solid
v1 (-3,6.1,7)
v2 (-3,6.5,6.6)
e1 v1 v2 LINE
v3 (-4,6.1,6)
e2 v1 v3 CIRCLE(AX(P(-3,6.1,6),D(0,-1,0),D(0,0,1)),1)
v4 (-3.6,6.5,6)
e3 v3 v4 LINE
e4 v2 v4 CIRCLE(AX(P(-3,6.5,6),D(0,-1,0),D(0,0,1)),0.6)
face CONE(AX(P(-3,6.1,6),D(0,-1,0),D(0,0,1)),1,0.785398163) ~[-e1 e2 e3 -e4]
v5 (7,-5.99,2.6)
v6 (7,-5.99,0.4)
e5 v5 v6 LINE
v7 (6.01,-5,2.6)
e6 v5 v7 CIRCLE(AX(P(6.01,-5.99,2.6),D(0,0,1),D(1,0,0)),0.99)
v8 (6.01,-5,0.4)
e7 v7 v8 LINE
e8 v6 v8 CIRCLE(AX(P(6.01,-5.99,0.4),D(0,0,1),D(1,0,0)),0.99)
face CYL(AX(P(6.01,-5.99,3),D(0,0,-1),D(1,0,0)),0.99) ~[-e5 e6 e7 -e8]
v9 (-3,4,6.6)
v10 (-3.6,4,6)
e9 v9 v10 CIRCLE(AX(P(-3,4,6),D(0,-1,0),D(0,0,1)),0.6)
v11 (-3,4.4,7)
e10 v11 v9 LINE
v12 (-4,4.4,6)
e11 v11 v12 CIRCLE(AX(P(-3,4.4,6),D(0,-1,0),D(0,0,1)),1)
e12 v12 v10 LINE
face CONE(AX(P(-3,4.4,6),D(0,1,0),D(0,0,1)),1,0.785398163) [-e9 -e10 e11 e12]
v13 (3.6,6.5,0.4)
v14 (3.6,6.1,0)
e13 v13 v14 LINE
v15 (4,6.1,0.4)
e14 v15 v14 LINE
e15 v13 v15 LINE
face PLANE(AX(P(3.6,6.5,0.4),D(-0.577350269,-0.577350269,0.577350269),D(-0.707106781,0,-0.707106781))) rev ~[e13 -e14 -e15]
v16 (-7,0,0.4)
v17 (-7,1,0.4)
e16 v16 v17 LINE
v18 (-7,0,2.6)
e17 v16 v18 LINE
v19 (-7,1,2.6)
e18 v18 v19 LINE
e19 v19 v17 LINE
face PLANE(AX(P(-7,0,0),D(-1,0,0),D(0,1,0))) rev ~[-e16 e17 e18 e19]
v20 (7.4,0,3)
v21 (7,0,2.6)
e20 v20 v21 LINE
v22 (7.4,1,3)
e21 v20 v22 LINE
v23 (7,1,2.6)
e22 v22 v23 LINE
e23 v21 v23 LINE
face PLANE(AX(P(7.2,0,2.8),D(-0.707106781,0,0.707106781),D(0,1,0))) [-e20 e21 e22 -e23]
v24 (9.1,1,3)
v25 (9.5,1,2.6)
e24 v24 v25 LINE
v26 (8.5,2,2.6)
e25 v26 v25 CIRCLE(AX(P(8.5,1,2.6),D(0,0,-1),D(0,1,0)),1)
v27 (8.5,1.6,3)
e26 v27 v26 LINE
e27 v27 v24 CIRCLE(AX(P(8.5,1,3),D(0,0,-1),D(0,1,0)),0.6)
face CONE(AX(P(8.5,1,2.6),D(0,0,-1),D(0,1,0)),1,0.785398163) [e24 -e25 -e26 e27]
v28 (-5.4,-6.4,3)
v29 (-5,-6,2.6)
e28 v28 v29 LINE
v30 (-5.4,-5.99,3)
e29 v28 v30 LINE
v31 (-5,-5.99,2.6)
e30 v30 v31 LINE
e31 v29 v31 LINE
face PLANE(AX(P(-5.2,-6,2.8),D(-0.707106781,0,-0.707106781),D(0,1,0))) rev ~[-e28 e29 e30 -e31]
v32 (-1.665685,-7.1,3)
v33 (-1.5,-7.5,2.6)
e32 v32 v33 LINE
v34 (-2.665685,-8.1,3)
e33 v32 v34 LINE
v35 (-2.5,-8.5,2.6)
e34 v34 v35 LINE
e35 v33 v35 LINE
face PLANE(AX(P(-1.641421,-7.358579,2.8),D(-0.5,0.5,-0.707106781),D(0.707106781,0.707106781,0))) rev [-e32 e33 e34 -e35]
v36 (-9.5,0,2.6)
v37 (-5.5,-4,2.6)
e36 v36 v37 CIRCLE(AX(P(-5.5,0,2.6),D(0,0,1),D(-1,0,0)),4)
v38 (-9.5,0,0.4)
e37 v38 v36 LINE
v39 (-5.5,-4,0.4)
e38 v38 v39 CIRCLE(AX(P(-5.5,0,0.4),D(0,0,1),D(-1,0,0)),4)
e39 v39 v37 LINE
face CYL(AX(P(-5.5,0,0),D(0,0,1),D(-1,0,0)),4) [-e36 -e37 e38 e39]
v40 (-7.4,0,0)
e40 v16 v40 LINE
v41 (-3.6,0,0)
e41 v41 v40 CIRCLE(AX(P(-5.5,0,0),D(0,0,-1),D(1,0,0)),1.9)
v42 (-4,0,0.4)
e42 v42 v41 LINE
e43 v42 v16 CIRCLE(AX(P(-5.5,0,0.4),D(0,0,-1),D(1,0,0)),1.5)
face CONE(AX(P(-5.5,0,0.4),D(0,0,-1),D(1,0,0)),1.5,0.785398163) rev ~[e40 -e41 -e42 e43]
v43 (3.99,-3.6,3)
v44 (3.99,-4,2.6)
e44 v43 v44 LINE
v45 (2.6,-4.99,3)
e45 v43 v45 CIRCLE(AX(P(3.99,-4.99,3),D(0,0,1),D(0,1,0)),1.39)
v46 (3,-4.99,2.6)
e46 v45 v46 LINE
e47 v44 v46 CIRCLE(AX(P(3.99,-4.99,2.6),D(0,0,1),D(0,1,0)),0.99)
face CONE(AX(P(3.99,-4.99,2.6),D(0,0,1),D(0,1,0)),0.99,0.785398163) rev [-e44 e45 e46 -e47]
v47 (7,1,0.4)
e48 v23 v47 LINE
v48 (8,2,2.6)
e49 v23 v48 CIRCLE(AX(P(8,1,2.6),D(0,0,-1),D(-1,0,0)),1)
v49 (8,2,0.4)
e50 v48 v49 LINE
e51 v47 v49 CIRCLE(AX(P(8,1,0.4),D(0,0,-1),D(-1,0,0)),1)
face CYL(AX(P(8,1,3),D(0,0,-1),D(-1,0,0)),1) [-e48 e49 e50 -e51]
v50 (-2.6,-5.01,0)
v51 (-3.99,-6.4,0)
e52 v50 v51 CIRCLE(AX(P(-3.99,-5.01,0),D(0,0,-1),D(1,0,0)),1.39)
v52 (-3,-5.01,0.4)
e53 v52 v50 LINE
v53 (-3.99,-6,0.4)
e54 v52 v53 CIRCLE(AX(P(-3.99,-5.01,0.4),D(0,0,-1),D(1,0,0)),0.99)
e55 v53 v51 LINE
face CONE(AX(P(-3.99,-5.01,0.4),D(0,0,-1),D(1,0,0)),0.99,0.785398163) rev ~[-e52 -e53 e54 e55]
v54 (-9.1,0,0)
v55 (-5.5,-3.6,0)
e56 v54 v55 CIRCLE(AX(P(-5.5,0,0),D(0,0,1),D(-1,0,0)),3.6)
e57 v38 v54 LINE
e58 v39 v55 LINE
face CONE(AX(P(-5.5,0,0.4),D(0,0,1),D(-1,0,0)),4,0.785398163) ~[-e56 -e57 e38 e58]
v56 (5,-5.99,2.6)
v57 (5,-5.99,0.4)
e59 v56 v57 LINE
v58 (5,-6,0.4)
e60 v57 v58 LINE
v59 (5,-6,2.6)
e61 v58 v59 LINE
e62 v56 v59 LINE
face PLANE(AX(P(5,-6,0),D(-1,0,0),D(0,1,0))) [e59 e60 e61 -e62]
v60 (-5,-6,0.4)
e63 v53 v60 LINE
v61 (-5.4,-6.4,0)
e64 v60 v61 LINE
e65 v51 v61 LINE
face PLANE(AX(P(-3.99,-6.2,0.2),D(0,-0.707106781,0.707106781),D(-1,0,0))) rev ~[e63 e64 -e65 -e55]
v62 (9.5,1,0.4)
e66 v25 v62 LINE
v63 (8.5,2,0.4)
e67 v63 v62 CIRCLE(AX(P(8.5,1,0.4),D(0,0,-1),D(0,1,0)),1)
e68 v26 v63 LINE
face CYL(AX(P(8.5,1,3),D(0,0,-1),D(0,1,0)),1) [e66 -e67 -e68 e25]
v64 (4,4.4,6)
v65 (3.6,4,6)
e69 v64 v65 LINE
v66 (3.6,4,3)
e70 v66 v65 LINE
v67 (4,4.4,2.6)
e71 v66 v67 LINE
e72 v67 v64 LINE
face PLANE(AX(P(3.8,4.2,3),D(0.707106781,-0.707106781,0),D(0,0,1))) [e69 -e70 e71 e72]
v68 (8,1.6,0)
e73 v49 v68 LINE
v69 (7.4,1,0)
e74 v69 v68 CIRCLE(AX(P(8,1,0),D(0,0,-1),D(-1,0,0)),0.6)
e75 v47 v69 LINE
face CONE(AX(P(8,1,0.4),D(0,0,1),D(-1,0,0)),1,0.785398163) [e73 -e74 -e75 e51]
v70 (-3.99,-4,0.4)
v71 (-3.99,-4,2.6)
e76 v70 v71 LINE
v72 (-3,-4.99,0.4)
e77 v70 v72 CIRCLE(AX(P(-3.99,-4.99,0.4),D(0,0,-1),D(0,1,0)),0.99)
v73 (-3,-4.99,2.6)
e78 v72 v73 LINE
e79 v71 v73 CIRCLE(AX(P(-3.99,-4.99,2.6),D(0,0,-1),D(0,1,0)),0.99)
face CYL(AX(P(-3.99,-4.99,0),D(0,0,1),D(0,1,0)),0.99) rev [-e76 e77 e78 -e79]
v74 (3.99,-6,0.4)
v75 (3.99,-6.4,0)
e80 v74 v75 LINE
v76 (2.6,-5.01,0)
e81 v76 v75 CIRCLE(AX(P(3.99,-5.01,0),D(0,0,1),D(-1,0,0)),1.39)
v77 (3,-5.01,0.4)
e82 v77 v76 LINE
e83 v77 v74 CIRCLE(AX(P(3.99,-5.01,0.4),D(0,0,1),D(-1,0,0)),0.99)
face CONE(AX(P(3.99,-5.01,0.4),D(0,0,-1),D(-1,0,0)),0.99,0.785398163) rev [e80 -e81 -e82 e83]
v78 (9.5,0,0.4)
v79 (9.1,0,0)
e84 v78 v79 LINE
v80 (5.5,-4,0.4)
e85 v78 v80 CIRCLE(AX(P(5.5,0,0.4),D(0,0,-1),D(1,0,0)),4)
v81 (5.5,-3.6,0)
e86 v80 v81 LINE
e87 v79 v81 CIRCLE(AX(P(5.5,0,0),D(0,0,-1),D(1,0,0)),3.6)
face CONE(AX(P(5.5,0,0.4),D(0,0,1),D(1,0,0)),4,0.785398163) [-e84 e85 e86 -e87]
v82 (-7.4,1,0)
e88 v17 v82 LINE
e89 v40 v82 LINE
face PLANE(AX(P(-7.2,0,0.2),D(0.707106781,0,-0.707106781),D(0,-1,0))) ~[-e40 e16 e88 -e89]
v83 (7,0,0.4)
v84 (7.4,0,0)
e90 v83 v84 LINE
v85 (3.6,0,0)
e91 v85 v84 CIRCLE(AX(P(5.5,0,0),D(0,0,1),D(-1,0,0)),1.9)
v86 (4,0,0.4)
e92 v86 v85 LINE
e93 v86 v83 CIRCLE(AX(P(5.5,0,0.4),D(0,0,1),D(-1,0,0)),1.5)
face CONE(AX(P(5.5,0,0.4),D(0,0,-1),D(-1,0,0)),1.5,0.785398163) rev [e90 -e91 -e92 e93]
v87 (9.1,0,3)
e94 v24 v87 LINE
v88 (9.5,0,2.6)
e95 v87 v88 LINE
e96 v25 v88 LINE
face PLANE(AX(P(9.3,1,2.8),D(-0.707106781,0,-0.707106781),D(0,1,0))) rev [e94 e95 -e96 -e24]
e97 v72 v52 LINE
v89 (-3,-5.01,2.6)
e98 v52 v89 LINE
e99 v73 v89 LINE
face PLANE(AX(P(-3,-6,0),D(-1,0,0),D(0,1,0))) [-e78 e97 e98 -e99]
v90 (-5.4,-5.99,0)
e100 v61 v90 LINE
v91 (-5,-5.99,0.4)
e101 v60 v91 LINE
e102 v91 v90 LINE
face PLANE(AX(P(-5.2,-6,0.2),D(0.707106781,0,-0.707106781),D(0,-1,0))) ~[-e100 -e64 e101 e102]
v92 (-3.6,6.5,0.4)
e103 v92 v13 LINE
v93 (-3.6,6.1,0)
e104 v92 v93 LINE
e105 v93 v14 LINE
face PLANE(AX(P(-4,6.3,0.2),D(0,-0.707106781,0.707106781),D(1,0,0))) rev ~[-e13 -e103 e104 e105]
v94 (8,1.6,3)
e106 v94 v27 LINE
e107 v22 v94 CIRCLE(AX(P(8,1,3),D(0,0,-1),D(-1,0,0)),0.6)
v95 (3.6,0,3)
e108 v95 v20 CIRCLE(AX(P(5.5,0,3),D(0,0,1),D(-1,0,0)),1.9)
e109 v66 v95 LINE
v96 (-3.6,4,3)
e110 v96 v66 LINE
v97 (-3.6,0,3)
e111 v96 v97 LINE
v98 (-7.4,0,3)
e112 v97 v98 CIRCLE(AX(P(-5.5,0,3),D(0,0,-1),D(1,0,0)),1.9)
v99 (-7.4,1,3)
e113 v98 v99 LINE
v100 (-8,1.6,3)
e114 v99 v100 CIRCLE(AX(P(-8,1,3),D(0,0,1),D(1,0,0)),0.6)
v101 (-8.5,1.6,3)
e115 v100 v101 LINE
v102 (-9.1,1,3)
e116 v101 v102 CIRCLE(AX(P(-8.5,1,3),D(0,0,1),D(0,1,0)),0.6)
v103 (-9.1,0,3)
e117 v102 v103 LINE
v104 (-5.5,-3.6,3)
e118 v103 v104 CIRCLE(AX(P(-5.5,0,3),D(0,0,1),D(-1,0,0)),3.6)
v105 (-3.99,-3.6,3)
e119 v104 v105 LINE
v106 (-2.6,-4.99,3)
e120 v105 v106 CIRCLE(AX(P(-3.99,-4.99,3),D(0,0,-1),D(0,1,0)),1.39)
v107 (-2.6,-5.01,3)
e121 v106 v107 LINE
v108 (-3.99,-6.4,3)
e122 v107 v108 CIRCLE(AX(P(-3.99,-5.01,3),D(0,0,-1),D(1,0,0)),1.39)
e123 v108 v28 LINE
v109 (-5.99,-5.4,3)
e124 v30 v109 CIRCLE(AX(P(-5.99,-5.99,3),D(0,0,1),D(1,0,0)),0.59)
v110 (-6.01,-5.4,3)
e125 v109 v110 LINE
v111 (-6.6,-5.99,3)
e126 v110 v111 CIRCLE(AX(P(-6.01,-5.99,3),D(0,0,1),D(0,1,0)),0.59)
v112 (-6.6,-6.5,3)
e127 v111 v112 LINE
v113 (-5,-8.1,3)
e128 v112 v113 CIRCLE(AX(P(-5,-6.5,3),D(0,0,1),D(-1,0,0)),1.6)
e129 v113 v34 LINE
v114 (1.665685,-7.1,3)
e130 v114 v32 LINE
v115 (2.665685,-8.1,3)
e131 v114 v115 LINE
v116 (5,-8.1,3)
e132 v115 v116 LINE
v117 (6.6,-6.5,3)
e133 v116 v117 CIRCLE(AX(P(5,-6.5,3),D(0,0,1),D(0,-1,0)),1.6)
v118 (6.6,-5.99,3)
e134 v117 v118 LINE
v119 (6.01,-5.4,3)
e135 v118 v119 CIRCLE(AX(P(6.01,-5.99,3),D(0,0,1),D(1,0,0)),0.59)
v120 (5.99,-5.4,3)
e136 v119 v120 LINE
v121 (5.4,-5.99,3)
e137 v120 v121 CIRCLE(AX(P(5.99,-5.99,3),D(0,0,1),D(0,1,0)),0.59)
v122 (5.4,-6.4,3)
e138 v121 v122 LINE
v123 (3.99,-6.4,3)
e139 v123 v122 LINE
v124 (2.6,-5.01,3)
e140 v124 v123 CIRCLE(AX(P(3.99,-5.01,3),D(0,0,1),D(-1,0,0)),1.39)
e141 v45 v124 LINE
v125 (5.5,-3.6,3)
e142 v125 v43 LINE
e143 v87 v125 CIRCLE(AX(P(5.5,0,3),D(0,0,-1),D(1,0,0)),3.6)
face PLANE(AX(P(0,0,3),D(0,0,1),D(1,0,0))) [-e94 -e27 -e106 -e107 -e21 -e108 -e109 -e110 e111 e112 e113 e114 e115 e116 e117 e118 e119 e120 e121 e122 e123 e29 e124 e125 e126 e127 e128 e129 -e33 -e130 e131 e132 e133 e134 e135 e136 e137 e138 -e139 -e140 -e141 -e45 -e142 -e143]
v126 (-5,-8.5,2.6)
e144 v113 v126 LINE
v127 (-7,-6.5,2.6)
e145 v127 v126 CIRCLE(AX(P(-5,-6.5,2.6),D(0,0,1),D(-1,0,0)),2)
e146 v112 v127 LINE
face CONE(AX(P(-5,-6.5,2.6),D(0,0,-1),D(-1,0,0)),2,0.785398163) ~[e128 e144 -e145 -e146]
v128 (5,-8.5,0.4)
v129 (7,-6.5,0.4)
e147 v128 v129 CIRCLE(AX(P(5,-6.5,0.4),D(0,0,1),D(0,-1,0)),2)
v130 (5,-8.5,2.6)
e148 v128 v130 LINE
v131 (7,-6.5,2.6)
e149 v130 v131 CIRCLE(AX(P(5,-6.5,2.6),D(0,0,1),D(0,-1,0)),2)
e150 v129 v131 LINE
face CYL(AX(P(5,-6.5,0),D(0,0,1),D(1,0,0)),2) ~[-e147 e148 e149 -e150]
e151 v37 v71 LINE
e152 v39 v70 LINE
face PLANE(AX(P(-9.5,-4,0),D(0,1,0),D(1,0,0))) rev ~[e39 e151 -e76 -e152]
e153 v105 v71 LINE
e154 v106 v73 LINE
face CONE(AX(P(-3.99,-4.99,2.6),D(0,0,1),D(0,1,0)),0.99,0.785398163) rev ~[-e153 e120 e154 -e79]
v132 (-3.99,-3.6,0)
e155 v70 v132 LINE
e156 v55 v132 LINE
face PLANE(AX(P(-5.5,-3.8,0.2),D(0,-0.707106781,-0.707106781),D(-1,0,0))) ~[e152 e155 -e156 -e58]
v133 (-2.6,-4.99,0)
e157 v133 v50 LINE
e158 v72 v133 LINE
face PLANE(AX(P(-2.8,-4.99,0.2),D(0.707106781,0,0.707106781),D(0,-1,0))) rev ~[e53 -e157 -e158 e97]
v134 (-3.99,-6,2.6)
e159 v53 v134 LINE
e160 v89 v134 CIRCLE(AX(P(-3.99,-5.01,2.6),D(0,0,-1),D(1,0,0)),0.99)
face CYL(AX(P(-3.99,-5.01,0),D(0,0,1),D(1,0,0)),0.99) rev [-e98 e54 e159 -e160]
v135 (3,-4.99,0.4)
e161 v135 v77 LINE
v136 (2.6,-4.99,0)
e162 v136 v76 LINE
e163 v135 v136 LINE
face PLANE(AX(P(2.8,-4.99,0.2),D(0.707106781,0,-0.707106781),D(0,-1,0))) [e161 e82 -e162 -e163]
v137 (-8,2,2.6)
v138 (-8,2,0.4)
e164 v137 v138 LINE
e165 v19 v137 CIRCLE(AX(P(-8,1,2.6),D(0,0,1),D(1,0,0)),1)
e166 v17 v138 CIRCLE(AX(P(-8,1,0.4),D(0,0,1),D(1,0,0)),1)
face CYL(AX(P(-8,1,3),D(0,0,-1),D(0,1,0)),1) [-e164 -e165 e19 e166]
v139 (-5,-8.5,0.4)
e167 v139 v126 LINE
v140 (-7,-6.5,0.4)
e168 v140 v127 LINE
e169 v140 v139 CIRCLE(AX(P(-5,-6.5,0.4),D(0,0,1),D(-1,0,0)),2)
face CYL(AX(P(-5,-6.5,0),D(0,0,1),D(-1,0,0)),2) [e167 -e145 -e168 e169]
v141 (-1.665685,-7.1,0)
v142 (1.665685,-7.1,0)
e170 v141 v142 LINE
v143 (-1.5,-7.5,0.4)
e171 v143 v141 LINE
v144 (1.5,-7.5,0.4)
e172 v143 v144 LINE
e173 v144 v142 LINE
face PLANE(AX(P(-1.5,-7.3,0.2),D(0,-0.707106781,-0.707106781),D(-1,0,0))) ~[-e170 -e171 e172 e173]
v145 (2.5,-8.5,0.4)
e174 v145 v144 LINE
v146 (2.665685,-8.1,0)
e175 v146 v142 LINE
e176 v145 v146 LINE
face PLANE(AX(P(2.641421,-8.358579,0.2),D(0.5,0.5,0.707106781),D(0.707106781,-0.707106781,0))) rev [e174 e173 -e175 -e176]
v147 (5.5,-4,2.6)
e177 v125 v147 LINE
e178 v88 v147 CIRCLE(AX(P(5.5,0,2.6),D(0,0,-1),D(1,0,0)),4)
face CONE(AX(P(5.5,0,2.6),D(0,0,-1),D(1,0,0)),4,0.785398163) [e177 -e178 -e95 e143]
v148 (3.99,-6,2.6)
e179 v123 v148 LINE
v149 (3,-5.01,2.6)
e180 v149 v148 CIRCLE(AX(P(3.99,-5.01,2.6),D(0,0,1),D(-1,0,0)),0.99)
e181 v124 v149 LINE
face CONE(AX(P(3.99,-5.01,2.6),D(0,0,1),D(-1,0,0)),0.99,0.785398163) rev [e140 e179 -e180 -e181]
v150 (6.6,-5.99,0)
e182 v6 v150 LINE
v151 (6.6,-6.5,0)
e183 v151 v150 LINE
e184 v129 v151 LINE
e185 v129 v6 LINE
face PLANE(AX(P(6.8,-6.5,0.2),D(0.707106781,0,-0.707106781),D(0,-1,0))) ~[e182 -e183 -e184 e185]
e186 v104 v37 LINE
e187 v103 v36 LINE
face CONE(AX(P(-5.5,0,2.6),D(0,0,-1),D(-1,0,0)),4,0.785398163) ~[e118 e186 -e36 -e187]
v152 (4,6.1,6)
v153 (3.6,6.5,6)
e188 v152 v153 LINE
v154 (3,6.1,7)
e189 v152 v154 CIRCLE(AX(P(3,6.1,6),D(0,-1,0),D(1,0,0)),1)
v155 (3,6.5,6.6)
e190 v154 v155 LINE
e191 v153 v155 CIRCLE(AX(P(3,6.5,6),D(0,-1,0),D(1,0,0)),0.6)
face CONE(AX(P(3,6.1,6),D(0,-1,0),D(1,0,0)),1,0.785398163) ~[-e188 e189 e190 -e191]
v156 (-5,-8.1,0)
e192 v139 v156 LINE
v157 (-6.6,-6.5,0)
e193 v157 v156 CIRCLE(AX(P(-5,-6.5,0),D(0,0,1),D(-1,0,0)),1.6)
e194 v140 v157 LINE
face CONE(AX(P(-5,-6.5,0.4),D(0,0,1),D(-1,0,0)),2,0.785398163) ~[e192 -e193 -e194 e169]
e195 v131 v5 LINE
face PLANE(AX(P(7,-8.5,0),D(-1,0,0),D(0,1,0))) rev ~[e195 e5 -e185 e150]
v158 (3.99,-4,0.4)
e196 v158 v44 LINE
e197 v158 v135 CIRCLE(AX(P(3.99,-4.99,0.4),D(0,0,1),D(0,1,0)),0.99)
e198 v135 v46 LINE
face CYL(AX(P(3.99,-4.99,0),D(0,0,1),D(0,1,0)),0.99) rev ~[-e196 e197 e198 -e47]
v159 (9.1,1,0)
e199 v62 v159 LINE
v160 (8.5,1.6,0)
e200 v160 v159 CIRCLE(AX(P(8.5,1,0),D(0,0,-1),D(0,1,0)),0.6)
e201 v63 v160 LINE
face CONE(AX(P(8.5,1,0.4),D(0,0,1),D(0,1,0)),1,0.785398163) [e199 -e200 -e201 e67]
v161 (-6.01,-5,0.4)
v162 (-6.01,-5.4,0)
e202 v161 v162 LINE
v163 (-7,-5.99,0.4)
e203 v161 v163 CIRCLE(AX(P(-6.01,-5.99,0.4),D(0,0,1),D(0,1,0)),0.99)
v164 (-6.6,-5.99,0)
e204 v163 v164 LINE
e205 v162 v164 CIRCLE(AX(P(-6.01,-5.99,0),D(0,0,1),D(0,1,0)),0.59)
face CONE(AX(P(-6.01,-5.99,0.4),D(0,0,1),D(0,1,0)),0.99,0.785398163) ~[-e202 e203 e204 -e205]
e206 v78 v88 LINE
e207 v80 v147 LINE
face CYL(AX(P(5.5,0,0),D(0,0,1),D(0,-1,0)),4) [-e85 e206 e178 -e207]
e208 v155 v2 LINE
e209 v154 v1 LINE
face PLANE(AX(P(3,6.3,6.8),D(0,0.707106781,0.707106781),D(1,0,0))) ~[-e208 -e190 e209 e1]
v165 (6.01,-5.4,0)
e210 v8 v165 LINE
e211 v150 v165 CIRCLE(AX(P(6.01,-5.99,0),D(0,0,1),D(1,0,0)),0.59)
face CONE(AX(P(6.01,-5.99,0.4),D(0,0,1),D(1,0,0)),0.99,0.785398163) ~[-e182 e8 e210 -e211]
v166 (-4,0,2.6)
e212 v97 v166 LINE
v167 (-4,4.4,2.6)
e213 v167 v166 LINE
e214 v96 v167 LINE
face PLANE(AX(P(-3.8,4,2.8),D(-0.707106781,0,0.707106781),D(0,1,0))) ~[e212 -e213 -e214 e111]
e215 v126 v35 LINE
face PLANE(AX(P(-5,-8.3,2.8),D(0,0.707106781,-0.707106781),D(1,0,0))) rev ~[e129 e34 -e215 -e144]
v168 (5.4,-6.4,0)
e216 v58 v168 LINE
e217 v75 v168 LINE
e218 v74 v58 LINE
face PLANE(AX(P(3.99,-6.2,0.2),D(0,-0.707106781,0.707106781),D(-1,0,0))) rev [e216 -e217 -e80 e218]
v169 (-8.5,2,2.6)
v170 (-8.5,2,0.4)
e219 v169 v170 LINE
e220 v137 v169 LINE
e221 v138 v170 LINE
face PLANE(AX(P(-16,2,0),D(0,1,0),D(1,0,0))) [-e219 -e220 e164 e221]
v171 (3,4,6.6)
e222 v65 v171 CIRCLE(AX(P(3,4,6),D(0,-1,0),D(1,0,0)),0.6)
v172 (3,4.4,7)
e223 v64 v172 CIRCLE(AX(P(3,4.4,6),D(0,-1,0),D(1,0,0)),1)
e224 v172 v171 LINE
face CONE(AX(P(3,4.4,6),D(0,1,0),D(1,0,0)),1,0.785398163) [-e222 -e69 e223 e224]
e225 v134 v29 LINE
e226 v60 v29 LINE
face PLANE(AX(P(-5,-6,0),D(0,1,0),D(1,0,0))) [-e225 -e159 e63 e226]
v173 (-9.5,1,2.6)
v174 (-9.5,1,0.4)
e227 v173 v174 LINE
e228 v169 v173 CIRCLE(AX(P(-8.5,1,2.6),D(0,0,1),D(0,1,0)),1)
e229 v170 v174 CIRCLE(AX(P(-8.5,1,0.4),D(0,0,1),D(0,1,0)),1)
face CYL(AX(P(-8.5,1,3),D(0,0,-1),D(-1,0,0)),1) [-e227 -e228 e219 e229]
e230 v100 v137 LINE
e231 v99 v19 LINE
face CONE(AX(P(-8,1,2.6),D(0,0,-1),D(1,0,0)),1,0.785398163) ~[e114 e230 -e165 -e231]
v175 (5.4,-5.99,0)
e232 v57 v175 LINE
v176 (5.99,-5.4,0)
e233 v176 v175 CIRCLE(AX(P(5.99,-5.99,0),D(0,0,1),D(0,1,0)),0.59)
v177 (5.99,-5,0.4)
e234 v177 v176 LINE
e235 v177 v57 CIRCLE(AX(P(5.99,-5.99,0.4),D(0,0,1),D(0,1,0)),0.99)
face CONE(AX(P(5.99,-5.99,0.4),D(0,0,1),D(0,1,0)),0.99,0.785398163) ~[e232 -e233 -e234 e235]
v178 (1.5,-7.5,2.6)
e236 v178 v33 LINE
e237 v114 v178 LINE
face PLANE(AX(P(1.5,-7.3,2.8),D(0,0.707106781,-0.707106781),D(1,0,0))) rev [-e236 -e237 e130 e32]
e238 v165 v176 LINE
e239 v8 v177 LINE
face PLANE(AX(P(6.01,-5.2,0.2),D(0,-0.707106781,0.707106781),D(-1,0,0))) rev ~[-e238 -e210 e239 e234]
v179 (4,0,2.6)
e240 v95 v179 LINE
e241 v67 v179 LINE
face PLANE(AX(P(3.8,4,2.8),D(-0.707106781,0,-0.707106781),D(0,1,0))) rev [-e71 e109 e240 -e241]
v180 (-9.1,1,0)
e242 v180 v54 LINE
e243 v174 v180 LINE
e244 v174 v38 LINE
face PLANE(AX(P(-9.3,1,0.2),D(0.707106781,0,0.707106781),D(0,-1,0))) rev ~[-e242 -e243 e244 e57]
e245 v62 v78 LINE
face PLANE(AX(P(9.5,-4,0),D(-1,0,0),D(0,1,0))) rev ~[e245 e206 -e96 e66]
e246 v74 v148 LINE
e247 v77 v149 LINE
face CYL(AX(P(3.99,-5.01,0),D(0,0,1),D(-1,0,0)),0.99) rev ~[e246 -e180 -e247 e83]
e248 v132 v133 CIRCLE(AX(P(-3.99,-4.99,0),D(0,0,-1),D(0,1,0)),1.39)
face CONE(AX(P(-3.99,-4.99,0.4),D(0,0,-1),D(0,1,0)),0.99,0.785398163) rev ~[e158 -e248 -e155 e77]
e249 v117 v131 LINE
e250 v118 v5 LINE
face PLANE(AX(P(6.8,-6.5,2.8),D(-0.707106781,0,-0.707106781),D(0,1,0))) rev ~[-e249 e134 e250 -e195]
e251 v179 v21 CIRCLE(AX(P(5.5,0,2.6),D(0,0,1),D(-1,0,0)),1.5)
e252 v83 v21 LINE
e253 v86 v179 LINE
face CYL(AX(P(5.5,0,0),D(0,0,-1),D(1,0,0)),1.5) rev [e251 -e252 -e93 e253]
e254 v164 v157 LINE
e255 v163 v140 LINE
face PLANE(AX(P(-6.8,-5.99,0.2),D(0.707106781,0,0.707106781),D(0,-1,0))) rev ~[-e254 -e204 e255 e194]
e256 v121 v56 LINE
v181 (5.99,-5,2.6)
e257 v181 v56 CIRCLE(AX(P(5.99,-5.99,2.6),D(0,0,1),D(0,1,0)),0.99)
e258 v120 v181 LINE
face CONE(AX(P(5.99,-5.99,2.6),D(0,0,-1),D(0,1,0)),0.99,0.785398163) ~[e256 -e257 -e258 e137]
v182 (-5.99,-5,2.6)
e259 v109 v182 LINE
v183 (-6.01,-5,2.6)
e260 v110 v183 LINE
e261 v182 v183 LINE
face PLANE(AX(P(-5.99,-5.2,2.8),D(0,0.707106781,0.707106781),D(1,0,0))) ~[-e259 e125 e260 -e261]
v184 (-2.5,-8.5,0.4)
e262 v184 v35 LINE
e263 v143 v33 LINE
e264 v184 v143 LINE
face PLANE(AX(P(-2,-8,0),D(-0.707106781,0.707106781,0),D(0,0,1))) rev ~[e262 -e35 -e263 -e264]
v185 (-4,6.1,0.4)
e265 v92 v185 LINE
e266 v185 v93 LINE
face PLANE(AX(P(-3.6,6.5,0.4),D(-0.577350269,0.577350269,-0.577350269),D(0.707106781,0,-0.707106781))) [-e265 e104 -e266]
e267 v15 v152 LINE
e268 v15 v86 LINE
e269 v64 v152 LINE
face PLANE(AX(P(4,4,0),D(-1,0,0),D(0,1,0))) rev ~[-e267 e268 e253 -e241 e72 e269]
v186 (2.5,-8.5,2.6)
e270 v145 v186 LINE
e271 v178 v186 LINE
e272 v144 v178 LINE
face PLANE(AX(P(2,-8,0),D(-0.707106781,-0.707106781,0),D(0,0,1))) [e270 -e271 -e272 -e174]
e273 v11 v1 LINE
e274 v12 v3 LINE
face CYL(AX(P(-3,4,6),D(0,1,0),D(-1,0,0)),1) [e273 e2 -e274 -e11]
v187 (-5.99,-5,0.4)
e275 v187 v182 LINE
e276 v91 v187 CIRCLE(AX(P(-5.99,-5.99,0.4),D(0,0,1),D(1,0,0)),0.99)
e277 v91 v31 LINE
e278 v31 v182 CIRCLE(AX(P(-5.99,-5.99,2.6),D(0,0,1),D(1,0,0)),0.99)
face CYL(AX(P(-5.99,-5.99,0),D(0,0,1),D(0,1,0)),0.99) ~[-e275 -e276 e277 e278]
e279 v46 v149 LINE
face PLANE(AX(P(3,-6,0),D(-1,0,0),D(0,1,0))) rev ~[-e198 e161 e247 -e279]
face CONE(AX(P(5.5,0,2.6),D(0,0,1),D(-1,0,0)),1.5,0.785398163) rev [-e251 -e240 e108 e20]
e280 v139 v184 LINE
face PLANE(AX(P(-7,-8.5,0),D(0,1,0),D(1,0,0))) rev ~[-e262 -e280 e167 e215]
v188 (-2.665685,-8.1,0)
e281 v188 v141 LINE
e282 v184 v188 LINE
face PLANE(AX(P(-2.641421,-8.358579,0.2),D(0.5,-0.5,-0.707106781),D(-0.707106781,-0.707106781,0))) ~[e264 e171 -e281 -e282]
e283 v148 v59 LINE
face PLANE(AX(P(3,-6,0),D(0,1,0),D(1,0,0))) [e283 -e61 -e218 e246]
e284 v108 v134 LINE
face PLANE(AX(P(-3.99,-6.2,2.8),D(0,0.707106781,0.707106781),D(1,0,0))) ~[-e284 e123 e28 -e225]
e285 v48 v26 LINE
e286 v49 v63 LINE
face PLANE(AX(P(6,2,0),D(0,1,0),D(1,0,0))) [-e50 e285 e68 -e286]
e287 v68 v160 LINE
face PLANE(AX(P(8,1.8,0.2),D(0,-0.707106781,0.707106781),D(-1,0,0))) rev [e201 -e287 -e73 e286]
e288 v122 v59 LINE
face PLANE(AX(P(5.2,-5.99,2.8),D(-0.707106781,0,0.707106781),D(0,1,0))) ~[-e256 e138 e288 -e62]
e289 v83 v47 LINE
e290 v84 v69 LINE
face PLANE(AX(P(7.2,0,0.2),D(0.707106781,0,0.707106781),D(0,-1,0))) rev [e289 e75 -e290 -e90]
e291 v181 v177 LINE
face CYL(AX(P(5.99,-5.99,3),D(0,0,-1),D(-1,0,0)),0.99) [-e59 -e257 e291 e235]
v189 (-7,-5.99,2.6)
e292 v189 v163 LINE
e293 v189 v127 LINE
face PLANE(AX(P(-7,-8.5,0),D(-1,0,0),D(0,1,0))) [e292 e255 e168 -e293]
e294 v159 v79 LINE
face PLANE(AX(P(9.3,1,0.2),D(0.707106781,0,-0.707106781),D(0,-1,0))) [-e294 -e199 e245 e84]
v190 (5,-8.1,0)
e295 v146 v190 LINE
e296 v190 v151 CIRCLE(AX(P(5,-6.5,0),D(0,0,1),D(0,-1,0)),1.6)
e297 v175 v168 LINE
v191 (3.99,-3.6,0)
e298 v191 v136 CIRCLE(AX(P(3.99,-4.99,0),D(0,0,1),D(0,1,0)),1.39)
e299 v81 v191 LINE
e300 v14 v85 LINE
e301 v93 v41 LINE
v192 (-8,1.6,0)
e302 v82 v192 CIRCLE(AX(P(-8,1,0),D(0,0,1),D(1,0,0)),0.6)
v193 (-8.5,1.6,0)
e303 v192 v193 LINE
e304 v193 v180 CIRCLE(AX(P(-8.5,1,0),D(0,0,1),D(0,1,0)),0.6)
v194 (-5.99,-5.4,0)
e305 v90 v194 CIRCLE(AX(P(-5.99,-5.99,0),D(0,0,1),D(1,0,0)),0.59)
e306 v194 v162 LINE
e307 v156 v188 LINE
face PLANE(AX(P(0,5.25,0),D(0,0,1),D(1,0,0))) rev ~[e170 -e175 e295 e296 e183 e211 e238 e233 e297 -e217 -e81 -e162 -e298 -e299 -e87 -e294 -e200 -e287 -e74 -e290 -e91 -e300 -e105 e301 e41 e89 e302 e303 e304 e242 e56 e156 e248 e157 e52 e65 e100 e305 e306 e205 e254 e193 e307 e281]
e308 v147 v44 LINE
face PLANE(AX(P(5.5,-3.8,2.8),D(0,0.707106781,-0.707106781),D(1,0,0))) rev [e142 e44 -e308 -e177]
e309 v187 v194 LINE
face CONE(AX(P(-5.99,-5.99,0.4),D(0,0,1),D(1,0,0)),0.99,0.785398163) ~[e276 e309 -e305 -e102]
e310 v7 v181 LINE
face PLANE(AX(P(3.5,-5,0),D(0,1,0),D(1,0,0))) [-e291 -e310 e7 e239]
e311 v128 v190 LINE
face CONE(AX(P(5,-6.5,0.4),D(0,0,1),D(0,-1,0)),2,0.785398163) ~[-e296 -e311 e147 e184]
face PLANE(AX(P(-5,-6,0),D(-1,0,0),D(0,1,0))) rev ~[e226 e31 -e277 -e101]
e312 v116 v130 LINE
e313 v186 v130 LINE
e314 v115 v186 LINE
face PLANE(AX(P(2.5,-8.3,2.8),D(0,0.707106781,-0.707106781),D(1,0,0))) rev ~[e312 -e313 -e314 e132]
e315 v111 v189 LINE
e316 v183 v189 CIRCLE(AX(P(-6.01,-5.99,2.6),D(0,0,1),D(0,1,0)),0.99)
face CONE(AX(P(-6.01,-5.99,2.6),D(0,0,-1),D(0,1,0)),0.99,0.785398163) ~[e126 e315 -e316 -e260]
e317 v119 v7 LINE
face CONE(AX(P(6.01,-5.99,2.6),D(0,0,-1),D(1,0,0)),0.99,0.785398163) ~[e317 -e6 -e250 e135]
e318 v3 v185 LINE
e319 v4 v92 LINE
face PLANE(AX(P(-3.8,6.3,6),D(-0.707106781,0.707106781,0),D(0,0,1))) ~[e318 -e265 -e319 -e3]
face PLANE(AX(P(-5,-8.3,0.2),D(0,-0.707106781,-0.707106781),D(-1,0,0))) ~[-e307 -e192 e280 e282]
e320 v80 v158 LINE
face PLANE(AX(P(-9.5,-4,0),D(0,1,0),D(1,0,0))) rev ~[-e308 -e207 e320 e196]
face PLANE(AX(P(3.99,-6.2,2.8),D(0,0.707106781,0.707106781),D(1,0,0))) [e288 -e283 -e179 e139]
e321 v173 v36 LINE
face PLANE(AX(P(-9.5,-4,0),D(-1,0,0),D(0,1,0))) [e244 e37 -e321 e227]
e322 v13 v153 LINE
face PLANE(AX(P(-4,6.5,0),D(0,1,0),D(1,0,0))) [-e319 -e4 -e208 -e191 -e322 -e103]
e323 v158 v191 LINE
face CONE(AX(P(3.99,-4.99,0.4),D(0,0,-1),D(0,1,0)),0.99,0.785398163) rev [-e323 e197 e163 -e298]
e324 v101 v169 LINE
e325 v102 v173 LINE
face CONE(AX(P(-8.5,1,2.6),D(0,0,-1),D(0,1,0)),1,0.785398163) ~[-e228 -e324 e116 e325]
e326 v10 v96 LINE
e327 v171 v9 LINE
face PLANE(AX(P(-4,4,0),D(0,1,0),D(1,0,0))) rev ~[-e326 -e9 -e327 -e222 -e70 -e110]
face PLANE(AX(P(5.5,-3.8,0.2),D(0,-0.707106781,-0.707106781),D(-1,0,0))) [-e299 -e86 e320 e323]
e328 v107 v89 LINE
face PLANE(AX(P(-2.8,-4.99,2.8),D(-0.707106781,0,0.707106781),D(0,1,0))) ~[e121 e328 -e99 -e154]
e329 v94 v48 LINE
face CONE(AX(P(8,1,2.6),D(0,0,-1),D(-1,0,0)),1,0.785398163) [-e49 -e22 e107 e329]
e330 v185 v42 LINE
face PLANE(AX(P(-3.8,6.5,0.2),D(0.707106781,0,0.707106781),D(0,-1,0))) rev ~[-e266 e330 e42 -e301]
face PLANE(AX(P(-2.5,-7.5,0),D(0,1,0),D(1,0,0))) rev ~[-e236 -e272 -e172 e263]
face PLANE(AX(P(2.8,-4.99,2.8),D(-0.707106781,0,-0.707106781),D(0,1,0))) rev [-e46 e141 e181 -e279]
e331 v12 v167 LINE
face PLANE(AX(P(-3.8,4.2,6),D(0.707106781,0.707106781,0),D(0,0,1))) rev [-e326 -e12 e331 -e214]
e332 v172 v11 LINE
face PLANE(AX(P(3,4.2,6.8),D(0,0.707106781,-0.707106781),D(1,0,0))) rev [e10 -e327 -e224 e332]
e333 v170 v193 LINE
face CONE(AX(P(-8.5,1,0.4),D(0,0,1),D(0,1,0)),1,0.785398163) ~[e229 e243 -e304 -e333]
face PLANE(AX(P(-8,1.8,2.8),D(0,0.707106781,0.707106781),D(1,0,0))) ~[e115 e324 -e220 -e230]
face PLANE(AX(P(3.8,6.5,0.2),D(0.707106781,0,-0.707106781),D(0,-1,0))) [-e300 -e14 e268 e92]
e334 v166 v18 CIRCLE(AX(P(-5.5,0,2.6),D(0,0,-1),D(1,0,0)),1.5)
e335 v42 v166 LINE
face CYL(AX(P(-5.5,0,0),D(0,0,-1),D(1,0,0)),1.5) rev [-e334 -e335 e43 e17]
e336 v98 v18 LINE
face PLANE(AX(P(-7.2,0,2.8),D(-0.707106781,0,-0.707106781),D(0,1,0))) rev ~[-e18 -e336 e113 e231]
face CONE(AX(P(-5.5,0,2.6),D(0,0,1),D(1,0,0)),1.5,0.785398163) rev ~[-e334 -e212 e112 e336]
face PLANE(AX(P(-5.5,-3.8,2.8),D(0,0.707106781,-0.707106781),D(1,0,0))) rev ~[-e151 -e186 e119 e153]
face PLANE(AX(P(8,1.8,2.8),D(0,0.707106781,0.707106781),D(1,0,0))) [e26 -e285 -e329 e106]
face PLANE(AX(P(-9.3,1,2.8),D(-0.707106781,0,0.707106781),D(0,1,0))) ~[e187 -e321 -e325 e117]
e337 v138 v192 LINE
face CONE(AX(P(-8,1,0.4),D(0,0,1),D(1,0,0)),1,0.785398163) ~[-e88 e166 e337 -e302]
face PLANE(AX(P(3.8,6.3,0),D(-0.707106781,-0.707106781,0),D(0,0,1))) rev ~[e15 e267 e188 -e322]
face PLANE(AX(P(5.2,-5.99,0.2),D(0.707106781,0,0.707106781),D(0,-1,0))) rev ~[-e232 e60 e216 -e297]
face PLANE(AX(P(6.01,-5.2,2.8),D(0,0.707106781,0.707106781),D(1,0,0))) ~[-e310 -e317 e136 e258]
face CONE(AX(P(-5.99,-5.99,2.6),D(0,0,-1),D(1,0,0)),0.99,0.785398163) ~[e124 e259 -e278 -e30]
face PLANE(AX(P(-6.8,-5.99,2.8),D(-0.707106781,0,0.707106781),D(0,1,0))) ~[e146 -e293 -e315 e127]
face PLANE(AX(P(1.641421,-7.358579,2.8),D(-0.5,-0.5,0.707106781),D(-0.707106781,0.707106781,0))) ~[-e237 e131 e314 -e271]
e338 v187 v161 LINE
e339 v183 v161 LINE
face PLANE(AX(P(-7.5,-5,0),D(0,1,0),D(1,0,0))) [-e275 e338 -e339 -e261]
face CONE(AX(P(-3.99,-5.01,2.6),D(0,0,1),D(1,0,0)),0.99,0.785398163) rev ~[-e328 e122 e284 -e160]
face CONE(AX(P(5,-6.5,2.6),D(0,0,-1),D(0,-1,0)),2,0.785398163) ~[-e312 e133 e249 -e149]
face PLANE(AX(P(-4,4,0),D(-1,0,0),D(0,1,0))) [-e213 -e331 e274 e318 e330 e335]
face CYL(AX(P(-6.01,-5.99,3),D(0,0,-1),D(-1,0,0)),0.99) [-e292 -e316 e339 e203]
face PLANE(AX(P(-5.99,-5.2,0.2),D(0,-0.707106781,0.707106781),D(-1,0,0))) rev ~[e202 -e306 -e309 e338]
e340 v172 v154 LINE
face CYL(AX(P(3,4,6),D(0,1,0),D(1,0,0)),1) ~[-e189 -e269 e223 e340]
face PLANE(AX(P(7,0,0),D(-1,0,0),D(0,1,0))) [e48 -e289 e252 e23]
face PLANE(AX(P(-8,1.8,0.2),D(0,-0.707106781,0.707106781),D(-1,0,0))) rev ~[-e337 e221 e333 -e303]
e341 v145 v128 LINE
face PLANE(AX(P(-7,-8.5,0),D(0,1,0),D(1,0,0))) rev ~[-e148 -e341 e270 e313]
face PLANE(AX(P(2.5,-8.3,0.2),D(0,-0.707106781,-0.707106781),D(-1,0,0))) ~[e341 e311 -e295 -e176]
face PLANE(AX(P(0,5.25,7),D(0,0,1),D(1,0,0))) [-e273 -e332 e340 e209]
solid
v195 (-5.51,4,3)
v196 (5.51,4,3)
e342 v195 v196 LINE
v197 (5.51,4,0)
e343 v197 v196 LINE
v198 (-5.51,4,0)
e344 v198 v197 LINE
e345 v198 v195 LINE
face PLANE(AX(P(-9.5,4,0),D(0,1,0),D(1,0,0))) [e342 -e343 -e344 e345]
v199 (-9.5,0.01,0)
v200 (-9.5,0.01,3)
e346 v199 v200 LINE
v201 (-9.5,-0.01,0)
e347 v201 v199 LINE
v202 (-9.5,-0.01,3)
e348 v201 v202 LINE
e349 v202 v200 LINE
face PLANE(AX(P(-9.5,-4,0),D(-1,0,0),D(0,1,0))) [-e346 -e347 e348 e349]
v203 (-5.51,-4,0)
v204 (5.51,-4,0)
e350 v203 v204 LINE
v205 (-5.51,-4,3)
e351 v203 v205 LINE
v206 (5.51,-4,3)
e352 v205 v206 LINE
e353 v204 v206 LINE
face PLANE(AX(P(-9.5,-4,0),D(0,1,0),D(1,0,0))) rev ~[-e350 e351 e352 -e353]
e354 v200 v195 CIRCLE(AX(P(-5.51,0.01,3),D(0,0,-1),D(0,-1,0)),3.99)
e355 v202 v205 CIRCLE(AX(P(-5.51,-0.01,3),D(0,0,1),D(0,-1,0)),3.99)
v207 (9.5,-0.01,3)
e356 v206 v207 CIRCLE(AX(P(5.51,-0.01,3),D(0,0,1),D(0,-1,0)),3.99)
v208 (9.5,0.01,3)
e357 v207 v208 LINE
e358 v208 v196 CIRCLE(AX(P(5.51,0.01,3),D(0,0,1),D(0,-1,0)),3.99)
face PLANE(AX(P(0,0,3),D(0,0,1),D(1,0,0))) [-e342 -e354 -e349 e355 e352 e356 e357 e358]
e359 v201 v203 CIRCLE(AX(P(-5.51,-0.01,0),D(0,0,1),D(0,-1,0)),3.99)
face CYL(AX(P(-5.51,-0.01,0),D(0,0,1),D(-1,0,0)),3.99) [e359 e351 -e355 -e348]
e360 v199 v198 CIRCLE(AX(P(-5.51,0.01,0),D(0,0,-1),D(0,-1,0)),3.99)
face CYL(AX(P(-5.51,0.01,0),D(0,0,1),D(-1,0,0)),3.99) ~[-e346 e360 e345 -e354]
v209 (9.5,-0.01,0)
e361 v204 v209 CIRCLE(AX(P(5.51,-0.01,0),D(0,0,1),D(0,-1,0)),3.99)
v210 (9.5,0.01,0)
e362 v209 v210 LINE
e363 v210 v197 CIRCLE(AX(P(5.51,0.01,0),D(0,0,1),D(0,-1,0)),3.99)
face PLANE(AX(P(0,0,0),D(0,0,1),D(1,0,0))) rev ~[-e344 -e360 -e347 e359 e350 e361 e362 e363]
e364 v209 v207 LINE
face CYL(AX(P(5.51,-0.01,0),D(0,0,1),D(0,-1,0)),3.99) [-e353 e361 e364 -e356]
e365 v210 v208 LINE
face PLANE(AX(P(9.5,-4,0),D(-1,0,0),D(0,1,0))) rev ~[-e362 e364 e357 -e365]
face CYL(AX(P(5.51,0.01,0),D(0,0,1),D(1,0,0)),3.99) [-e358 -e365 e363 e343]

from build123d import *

# Parameters (mm, degrees)
BOX003_W          = 19
BOX003_H          = 8
BOX003_DEPTH      = 3
FILLET_R          = 3.99
BOX004_W          = 8
BOX004_H          = 2.5
BOX004_DEPTH      = 7
FILLET006_R       = 1
BOX012_W          = 5
BOX012_H          = 4
BOX012_DEPTH      = 10
CHAMFER_SIZE      = 1
BOX007_W          = 4
BOX007_H          = 1
BOX007_DEPTH      = 3
BOX006_W          = 2
BOX006_H          = 2
BOX006_DEPTH      = 3
BOX008_W          = 2
BOX008_H          = 2
BOX008_DEPTH      = 3
BOX009_W          = 4
BOX009_H          = 1
BOX009_DEPTH      = 3
BOX005_W          = 14
BOX005_H          = 4.5
BOX005_DEPTH      = 3
FILLET009_R       = 2
BOX010_W          = 10
BOX010_H          = 10
BOX010_DEPTH      = 10
BOX011_W          = 10
BOX011_H          = 10
BOX011_DEPTH      = 10
CYLINDER_R        = 1.5
CYLINDER_DEPTH    = 10
CYLINDER001_R     = 1.5
CYLINDER001_DEPTH = 10
BOX001_W          = 3
BOX001_H          = 10
BOX001_DEPTH      = 10
BOX002_W          = 3
BOX002_H          = 10
BOX002_DEPTH      = 10
BOX_W             = 19
BOX_H             = 8
BOX_DEPTH         = 3
FILLET007_R       = 4
FILLET008_R       = 1
FILLET010_R       = 0.99
CHAMFER001_SIZE   = 0.4


with BuildPart() as fillet_body:
    # Box003 → Box003 (new body)
    with BuildSketch(Plane(origin=(-9.5, -4, 0), x_dir=(1, 0, 0), z_dir=(0, 0, 1))):
        with Locations((9.5, 4)):
            Rectangle(BOX003_W, BOX003_H)
    extrude(amount=BOX003_DEPTH)

    # Fillet
    fillet_edges = [fillet_body.edges().sort_by_distance(p)[0] for p in [
        (-9.5, -4, 1.5),
        (-9.5, 4, 1.5),
        (9.5, -4, 1.5),
        (9.5, 4, 1.5),
    ]]
    fillet(fillet_edges, radius=FILLET_R)


with BuildPart() as fillet006:
    # Box004 → Box004 (new body)
    with BuildSketch(Plane(origin=(-4, 4, 0), x_dir=(1, 0, 0), z_dir=(0, 0, 1))):
        with Locations((4, 1.25)):
            Rectangle(BOX004_W, BOX004_H)
    extrude(amount=BOX004_DEPTH)

    # Fillet006
    fillet006_edges = [fillet006.edges().sort_by_distance(p)[0] for p in [
        (-4, 5.25, 7),
        (4, 5.25, 7),
    ]]
    fillet(fillet006_edges, radius=FILLET006_R)


with BuildPart() as chamfer_body:
    # Box012 → Box012 (new body)
    with BuildSketch(Plane(origin=(-2.5, -11.5, 0), x_dir=(1, 0, 0), z_dir=(0, 0, 1))):
        with Locations((2.5, 2)):
            Rectangle(BOX012_W, BOX012_H)
    extrude(amount=BOX012_DEPTH)

    # Chamfer
    chamfer_edges = [chamfer_body.edges().sort_by_distance(p)[0] for p in [
        (-2.5, -7.5, 5),
        (2.5, -7.5, 5),
    ]]
    chamfer(chamfer_edges, length=CHAMFER_SIZE)


with BuildPart() as cube007:
    # Box007 → Box007 (new body)
    with BuildSketch(Plane(origin=(2, -5, 0), x_dir=(1, 0, 0), z_dir=(0, 0, 1))):
        with Locations((2, 0.5)):
            Rectangle(BOX007_W, BOX007_H)
    extrude(amount=BOX007_DEPTH)


with BuildPart() as fusion003:
    # Box006 → Box006 (new body)
    with BuildSketch(Plane(origin=(1.5, -6, 0), x_dir=(1, 0, 0), z_dir=(0, 0, 1))):
        with Locations((1, 1)):
            Rectangle(BOX006_W, BOX006_H)
    extrude(amount=BOX006_DEPTH)

    # Fusion003: union Cube007
    add(cube007.part)


with BuildPart() as fusion003_1:
    # Fusion003 placement: moved
    add(fusion003.part.moved(Location((1.5, 0, 0))))


with BuildPart() as cube008:
    # Box008 → Box008 (new body)
    with BuildSketch(Plane(origin=(-3.5, -6, 0), x_dir=(1, 0, 0), z_dir=(0, 0, 1))):
        with Locations((1, 1)):
            Rectangle(BOX008_W, BOX008_H)
    extrude(amount=BOX008_DEPTH)


with BuildPart() as fusion005:
    # Box009 → Box009 (new body)
    with BuildSketch(Plane(origin=(-6, -5, 0), x_dir=(1, 0, 0), z_dir=(0, 0, 1))):
        with Locations((2, 0.5)):
            Rectangle(BOX009_W, BOX009_H)
    extrude(amount=BOX009_DEPTH)

    # Fusion004: union Cube008
    add(cube008.part)


with BuildPart() as fusion005_1:
    # Fusion004 placement: moved
    add(fusion005.part.moved(Location((-1.5, 0, 0))))

    # Fusion005: union Fusion003
    add(fusion003_1.part)


with BuildPart() as fillet009:
    # Box005 → Box005 (new body)
    with BuildSketch(Plane(origin=(-7, -8.5, 0), x_dir=(1, 0, 0), z_dir=(0, 0, 1))):
        with Locations((7, 2.25)):
            Rectangle(BOX005_W, BOX005_H)
    extrude(amount=BOX005_DEPTH)

    # Cut003: cut Fusion005
    add(fusion005_1.part, mode=Mode.SUBTRACT)

    # Cut004: cut Chamfer body
    add(chamfer_body.part, mode=Mode.SUBTRACT)

    # Fillet009
    fillet009_edges = [fillet009.edges().sort_by_distance(p)[0] for p in [
        (-7, -8.5, 1.5),
        (7, -8.5, 1.5),
    ]]
    fillet(fillet009_edges, radius=FILLET009_R)


with BuildPart() as cube010:
    # Box010 → Box010 (new body)
    with BuildSketch(Plane(origin=(6, 2, 0), x_dir=(1, 0, 0), z_dir=(0, 0, 1))):
        with Locations((5, 5)):
            Rectangle(BOX010_W, BOX010_H)
    extrude(amount=BOX010_DEPTH)


with BuildPart() as fusion002:
    # Box011 → Box011 (new body)
    with BuildSketch(Plane(origin=(-16, 2, 0), x_dir=(1, 0, 0), z_dir=(0, 0, 1))):
        with Locations((5, 5)):
            Rectangle(BOX011_W, BOX011_H)
    extrude(amount=BOX011_DEPTH)

    # Fusion002: union Cube010
    add(cube010.part)


with BuildPart() as cylinder:
    # Cylinder → Cylinder (new body)
    with BuildSketch(Plane(origin=(5.5, 0, 0), x_dir=(1, 0, 0), z_dir=(0, 0, 1))):
        Circle(CYLINDER_R)
    extrude(amount=CYLINDER_DEPTH)


with BuildPart() as cylinder001:
    # Cylinder001 → Cylinder001 (new body)
    with BuildSketch(Plane(origin=(-5.5, 0, 0), x_dir=(1, 0, 0), z_dir=(0, 0, 1))):
        Circle(CYLINDER001_R)
    extrude(amount=CYLINDER001_DEPTH)


with BuildPart() as cube001:
    # Box001 → Box001 (new body)
    with BuildSketch(Plane(origin=(4, 0, 0), x_dir=(1, 0, 0), z_dir=(0, 0, 1))):
        with Locations((1.5, 5)):
            Rectangle(BOX001_W, BOX001_H)
    extrude(amount=BOX001_DEPTH)


with BuildPart() as fusion:
    # Box002 → Box002 (new body)
    with BuildSketch(Plane(origin=(-7, 0, 0), x_dir=(1, 0, 0), z_dir=(0, 0, 1))):
        with Locations((1.5, 5)):
            Rectangle(BOX002_W, BOX002_H)
    extrude(amount=BOX002_DEPTH)

    # Fusion: union Cylinder, Cylinder001, Cube001
    add(cylinder.part)
    add(cylinder001.part)
    add(cube001.part)


with BuildPart() as chamfer001:
    # Box → Box (new body)
    with BuildSketch(Plane(origin=(-9.5, -4, 0), x_dir=(1, 0, 0), z_dir=(0, 0, 1))):
        with Locations((9.5, 4)):
            Rectangle(BOX_W, BOX_H)
    extrude(amount=BOX_DEPTH)

    # Fillet007
    fillet007_edges = [chamfer001.edges().sort_by_distance(p)[0] for p in [
        (-9.5, -4, 1.5),
        (9.5, -4, 1.5),
    ]]
    fillet(fillet007_edges, radius=FILLET007_R)

    # Cut: cut Fusion
    add(fusion.part, mode=Mode.SUBTRACT)

    # Cut002: cut Fusion002
    add(fusion002.part, mode=Mode.SUBTRACT)

    # Fillet008
    fillet008_edges = [chamfer001.edges().sort_by_distance(p)[0] for p in [
        (-9.5, 2, 1.5),
        (-7, 2, 1.5),
        (7, 2, 1.5),
        (9.5, 2, 1.5),
    ]]
    fillet(fillet008_edges, radius=FILLET008_R)

    # Fusion006: union Fillet009
    add(fillet009.part)

    # Fillet010
    fillet010_edges = [chamfer001.edges().sort_by_distance(p)[0] for p in [
        (-3, -4, 1.5),
        (3, -4, 1.5),
        (-3, -6, 1.5),
        (-7, -5, 1.5),
        (7, -5, 1.5),
        (5, -5, 1.5),
        (3, -6, 1.5),
        (-5, -5, 1.5),
    ]]
    fillet(fillet010_edges, radius=FILLET010_R)

    # Fusion007: union Fillet006
    add(fillet006.part)

    # Chamfer001
    chamfer001_edges = [chamfer001.edges().sort_by_distance(p)[0] for p in [
        (-4.745, -4, 0),
        (-4.745, -4, 3),
        (-8.328427, -2.828427, 0),
        (-8.328427, -2.828427, 3),
        (-5.5, -1.5, 0),
        (-5.5, -1.5, 3),
        (-7, 0.5, 3),
        (-7, 0.5, 0),
        (-7.292893, 1.707107, 0),
        (-7.292893, 1.707107, 3),
        (-8.25, 2, 0),
        (-8.25, 2, 3),
        (-9.207107, 1.707107, 0),
        (-9.207107, 1.707107, 3),
        (-9.5, 0.5, 3),
        (-9.5, 0.5, 0),
        (-3.289964, -4.289964, 0),
        (-3.289964, -4.289964, 3),
        (-3, -5, 3),
        (-3, -5, 0),
        (-3.289964, -5.710036, 0),
        (-3.289964, -5.710036, 3),
        (-4.495, -6, 0),
        (-4.495, -6, 3),
        (-5, -5.995, 3),
        (-5, -5.995, 0),
        (-5.289964, -5.289964, 3),
        (-5.289964, -5.289964, 0),
        (-6, -5, 0),
        (-6, -5, 3),
        (-6.710036, -5.289964, 0),
        (-6.710036, -5.289964, 3),
        (-7, -6.245, 3),
        (-7, -6.245, 0),
        (-6.414214, -7.914214, 0),
        (-6.414214, -7.914214, 3),
        (-3.75, -8.5, 0),
        (-3.75, -8.5, 3),
        (-2, -8, 0),
        (-2, -8, 3),
        (0, -7.5, 0),
        (0, -7.5, 3),
        (2, -8, 0),
        (2, -8, 3),
        (3.75, -8.5, 0),
        (3.75, -8.5, 3),
        (6.414214, -7.914214, 0),
        (6.414214, -7.914214, 3),
        (7, -6.245, 3),
        (7, -6.245, 0),
        (6.710036, -5.289964, 0),
        (6.710036, -5.289964, 3),
        (6, -5, 0),
        (6, -5, 3),
        (5.289964, -5.289964, 0),
        (5.289964, -5.289964, 3),
        (5, -5.995, 3),
        (5, -5.995, 0),
        (4.495, -6, 0),
        (4.495, -6, 3),
        (3.289964, -5.710036, 0),
        (3.289964, -5.710036, 3),
        (3, -5, 3),
        (3, -5, 0),
        (3.289964, -4.289964, 0),
        (3.289964, -4.289964, 3),
        (4.745, -4, 0),
        (4.745, -4, 3),
        (8.328427, -2.828427, 0),
        (8.328427, -2.828427, 3),
        (9.5, 0.5, 3),
        (9.5, 0.5, 0),
        (9.207107, 1.707107, 0),
        (9.207107, 1.707107, 3),
        (8.25, 2, 0),
        (8.25, 2, 3),
        (7.292893, 1.707107, 0),
        (7.292893, 1.707107, 3),
        (7, 0.5, 3),
        (7, 0.5, 0),
        (5.5, -1.5, 0),
        (5.5, -1.5, 3),
        (4, 2, 3),
        (-4, 2, 3),
        (4, 4, 4.5),
        (3.707107, 4, 6.707107),
        (0, 4, 7),
        (-3.707107, 4, 6.707107),
        (-4, 4, 4.5),
        (3.707107, 6.5, 6.707107),
        (0, 6.5, 7),
        (-3.707107, 6.5, 6.707107),
        (4, 6.5, 3),
        (0, 6.5, 0),
        (-4, 6.5, 3),
        (4, 3.25, 0),
        (-4, 3.25, 0),
    ]]
    chamfer(chamfer001_edges, length=CHAMFER001_SIZE)


solid = Compound([fillet_body.part, chamfer001.part])
